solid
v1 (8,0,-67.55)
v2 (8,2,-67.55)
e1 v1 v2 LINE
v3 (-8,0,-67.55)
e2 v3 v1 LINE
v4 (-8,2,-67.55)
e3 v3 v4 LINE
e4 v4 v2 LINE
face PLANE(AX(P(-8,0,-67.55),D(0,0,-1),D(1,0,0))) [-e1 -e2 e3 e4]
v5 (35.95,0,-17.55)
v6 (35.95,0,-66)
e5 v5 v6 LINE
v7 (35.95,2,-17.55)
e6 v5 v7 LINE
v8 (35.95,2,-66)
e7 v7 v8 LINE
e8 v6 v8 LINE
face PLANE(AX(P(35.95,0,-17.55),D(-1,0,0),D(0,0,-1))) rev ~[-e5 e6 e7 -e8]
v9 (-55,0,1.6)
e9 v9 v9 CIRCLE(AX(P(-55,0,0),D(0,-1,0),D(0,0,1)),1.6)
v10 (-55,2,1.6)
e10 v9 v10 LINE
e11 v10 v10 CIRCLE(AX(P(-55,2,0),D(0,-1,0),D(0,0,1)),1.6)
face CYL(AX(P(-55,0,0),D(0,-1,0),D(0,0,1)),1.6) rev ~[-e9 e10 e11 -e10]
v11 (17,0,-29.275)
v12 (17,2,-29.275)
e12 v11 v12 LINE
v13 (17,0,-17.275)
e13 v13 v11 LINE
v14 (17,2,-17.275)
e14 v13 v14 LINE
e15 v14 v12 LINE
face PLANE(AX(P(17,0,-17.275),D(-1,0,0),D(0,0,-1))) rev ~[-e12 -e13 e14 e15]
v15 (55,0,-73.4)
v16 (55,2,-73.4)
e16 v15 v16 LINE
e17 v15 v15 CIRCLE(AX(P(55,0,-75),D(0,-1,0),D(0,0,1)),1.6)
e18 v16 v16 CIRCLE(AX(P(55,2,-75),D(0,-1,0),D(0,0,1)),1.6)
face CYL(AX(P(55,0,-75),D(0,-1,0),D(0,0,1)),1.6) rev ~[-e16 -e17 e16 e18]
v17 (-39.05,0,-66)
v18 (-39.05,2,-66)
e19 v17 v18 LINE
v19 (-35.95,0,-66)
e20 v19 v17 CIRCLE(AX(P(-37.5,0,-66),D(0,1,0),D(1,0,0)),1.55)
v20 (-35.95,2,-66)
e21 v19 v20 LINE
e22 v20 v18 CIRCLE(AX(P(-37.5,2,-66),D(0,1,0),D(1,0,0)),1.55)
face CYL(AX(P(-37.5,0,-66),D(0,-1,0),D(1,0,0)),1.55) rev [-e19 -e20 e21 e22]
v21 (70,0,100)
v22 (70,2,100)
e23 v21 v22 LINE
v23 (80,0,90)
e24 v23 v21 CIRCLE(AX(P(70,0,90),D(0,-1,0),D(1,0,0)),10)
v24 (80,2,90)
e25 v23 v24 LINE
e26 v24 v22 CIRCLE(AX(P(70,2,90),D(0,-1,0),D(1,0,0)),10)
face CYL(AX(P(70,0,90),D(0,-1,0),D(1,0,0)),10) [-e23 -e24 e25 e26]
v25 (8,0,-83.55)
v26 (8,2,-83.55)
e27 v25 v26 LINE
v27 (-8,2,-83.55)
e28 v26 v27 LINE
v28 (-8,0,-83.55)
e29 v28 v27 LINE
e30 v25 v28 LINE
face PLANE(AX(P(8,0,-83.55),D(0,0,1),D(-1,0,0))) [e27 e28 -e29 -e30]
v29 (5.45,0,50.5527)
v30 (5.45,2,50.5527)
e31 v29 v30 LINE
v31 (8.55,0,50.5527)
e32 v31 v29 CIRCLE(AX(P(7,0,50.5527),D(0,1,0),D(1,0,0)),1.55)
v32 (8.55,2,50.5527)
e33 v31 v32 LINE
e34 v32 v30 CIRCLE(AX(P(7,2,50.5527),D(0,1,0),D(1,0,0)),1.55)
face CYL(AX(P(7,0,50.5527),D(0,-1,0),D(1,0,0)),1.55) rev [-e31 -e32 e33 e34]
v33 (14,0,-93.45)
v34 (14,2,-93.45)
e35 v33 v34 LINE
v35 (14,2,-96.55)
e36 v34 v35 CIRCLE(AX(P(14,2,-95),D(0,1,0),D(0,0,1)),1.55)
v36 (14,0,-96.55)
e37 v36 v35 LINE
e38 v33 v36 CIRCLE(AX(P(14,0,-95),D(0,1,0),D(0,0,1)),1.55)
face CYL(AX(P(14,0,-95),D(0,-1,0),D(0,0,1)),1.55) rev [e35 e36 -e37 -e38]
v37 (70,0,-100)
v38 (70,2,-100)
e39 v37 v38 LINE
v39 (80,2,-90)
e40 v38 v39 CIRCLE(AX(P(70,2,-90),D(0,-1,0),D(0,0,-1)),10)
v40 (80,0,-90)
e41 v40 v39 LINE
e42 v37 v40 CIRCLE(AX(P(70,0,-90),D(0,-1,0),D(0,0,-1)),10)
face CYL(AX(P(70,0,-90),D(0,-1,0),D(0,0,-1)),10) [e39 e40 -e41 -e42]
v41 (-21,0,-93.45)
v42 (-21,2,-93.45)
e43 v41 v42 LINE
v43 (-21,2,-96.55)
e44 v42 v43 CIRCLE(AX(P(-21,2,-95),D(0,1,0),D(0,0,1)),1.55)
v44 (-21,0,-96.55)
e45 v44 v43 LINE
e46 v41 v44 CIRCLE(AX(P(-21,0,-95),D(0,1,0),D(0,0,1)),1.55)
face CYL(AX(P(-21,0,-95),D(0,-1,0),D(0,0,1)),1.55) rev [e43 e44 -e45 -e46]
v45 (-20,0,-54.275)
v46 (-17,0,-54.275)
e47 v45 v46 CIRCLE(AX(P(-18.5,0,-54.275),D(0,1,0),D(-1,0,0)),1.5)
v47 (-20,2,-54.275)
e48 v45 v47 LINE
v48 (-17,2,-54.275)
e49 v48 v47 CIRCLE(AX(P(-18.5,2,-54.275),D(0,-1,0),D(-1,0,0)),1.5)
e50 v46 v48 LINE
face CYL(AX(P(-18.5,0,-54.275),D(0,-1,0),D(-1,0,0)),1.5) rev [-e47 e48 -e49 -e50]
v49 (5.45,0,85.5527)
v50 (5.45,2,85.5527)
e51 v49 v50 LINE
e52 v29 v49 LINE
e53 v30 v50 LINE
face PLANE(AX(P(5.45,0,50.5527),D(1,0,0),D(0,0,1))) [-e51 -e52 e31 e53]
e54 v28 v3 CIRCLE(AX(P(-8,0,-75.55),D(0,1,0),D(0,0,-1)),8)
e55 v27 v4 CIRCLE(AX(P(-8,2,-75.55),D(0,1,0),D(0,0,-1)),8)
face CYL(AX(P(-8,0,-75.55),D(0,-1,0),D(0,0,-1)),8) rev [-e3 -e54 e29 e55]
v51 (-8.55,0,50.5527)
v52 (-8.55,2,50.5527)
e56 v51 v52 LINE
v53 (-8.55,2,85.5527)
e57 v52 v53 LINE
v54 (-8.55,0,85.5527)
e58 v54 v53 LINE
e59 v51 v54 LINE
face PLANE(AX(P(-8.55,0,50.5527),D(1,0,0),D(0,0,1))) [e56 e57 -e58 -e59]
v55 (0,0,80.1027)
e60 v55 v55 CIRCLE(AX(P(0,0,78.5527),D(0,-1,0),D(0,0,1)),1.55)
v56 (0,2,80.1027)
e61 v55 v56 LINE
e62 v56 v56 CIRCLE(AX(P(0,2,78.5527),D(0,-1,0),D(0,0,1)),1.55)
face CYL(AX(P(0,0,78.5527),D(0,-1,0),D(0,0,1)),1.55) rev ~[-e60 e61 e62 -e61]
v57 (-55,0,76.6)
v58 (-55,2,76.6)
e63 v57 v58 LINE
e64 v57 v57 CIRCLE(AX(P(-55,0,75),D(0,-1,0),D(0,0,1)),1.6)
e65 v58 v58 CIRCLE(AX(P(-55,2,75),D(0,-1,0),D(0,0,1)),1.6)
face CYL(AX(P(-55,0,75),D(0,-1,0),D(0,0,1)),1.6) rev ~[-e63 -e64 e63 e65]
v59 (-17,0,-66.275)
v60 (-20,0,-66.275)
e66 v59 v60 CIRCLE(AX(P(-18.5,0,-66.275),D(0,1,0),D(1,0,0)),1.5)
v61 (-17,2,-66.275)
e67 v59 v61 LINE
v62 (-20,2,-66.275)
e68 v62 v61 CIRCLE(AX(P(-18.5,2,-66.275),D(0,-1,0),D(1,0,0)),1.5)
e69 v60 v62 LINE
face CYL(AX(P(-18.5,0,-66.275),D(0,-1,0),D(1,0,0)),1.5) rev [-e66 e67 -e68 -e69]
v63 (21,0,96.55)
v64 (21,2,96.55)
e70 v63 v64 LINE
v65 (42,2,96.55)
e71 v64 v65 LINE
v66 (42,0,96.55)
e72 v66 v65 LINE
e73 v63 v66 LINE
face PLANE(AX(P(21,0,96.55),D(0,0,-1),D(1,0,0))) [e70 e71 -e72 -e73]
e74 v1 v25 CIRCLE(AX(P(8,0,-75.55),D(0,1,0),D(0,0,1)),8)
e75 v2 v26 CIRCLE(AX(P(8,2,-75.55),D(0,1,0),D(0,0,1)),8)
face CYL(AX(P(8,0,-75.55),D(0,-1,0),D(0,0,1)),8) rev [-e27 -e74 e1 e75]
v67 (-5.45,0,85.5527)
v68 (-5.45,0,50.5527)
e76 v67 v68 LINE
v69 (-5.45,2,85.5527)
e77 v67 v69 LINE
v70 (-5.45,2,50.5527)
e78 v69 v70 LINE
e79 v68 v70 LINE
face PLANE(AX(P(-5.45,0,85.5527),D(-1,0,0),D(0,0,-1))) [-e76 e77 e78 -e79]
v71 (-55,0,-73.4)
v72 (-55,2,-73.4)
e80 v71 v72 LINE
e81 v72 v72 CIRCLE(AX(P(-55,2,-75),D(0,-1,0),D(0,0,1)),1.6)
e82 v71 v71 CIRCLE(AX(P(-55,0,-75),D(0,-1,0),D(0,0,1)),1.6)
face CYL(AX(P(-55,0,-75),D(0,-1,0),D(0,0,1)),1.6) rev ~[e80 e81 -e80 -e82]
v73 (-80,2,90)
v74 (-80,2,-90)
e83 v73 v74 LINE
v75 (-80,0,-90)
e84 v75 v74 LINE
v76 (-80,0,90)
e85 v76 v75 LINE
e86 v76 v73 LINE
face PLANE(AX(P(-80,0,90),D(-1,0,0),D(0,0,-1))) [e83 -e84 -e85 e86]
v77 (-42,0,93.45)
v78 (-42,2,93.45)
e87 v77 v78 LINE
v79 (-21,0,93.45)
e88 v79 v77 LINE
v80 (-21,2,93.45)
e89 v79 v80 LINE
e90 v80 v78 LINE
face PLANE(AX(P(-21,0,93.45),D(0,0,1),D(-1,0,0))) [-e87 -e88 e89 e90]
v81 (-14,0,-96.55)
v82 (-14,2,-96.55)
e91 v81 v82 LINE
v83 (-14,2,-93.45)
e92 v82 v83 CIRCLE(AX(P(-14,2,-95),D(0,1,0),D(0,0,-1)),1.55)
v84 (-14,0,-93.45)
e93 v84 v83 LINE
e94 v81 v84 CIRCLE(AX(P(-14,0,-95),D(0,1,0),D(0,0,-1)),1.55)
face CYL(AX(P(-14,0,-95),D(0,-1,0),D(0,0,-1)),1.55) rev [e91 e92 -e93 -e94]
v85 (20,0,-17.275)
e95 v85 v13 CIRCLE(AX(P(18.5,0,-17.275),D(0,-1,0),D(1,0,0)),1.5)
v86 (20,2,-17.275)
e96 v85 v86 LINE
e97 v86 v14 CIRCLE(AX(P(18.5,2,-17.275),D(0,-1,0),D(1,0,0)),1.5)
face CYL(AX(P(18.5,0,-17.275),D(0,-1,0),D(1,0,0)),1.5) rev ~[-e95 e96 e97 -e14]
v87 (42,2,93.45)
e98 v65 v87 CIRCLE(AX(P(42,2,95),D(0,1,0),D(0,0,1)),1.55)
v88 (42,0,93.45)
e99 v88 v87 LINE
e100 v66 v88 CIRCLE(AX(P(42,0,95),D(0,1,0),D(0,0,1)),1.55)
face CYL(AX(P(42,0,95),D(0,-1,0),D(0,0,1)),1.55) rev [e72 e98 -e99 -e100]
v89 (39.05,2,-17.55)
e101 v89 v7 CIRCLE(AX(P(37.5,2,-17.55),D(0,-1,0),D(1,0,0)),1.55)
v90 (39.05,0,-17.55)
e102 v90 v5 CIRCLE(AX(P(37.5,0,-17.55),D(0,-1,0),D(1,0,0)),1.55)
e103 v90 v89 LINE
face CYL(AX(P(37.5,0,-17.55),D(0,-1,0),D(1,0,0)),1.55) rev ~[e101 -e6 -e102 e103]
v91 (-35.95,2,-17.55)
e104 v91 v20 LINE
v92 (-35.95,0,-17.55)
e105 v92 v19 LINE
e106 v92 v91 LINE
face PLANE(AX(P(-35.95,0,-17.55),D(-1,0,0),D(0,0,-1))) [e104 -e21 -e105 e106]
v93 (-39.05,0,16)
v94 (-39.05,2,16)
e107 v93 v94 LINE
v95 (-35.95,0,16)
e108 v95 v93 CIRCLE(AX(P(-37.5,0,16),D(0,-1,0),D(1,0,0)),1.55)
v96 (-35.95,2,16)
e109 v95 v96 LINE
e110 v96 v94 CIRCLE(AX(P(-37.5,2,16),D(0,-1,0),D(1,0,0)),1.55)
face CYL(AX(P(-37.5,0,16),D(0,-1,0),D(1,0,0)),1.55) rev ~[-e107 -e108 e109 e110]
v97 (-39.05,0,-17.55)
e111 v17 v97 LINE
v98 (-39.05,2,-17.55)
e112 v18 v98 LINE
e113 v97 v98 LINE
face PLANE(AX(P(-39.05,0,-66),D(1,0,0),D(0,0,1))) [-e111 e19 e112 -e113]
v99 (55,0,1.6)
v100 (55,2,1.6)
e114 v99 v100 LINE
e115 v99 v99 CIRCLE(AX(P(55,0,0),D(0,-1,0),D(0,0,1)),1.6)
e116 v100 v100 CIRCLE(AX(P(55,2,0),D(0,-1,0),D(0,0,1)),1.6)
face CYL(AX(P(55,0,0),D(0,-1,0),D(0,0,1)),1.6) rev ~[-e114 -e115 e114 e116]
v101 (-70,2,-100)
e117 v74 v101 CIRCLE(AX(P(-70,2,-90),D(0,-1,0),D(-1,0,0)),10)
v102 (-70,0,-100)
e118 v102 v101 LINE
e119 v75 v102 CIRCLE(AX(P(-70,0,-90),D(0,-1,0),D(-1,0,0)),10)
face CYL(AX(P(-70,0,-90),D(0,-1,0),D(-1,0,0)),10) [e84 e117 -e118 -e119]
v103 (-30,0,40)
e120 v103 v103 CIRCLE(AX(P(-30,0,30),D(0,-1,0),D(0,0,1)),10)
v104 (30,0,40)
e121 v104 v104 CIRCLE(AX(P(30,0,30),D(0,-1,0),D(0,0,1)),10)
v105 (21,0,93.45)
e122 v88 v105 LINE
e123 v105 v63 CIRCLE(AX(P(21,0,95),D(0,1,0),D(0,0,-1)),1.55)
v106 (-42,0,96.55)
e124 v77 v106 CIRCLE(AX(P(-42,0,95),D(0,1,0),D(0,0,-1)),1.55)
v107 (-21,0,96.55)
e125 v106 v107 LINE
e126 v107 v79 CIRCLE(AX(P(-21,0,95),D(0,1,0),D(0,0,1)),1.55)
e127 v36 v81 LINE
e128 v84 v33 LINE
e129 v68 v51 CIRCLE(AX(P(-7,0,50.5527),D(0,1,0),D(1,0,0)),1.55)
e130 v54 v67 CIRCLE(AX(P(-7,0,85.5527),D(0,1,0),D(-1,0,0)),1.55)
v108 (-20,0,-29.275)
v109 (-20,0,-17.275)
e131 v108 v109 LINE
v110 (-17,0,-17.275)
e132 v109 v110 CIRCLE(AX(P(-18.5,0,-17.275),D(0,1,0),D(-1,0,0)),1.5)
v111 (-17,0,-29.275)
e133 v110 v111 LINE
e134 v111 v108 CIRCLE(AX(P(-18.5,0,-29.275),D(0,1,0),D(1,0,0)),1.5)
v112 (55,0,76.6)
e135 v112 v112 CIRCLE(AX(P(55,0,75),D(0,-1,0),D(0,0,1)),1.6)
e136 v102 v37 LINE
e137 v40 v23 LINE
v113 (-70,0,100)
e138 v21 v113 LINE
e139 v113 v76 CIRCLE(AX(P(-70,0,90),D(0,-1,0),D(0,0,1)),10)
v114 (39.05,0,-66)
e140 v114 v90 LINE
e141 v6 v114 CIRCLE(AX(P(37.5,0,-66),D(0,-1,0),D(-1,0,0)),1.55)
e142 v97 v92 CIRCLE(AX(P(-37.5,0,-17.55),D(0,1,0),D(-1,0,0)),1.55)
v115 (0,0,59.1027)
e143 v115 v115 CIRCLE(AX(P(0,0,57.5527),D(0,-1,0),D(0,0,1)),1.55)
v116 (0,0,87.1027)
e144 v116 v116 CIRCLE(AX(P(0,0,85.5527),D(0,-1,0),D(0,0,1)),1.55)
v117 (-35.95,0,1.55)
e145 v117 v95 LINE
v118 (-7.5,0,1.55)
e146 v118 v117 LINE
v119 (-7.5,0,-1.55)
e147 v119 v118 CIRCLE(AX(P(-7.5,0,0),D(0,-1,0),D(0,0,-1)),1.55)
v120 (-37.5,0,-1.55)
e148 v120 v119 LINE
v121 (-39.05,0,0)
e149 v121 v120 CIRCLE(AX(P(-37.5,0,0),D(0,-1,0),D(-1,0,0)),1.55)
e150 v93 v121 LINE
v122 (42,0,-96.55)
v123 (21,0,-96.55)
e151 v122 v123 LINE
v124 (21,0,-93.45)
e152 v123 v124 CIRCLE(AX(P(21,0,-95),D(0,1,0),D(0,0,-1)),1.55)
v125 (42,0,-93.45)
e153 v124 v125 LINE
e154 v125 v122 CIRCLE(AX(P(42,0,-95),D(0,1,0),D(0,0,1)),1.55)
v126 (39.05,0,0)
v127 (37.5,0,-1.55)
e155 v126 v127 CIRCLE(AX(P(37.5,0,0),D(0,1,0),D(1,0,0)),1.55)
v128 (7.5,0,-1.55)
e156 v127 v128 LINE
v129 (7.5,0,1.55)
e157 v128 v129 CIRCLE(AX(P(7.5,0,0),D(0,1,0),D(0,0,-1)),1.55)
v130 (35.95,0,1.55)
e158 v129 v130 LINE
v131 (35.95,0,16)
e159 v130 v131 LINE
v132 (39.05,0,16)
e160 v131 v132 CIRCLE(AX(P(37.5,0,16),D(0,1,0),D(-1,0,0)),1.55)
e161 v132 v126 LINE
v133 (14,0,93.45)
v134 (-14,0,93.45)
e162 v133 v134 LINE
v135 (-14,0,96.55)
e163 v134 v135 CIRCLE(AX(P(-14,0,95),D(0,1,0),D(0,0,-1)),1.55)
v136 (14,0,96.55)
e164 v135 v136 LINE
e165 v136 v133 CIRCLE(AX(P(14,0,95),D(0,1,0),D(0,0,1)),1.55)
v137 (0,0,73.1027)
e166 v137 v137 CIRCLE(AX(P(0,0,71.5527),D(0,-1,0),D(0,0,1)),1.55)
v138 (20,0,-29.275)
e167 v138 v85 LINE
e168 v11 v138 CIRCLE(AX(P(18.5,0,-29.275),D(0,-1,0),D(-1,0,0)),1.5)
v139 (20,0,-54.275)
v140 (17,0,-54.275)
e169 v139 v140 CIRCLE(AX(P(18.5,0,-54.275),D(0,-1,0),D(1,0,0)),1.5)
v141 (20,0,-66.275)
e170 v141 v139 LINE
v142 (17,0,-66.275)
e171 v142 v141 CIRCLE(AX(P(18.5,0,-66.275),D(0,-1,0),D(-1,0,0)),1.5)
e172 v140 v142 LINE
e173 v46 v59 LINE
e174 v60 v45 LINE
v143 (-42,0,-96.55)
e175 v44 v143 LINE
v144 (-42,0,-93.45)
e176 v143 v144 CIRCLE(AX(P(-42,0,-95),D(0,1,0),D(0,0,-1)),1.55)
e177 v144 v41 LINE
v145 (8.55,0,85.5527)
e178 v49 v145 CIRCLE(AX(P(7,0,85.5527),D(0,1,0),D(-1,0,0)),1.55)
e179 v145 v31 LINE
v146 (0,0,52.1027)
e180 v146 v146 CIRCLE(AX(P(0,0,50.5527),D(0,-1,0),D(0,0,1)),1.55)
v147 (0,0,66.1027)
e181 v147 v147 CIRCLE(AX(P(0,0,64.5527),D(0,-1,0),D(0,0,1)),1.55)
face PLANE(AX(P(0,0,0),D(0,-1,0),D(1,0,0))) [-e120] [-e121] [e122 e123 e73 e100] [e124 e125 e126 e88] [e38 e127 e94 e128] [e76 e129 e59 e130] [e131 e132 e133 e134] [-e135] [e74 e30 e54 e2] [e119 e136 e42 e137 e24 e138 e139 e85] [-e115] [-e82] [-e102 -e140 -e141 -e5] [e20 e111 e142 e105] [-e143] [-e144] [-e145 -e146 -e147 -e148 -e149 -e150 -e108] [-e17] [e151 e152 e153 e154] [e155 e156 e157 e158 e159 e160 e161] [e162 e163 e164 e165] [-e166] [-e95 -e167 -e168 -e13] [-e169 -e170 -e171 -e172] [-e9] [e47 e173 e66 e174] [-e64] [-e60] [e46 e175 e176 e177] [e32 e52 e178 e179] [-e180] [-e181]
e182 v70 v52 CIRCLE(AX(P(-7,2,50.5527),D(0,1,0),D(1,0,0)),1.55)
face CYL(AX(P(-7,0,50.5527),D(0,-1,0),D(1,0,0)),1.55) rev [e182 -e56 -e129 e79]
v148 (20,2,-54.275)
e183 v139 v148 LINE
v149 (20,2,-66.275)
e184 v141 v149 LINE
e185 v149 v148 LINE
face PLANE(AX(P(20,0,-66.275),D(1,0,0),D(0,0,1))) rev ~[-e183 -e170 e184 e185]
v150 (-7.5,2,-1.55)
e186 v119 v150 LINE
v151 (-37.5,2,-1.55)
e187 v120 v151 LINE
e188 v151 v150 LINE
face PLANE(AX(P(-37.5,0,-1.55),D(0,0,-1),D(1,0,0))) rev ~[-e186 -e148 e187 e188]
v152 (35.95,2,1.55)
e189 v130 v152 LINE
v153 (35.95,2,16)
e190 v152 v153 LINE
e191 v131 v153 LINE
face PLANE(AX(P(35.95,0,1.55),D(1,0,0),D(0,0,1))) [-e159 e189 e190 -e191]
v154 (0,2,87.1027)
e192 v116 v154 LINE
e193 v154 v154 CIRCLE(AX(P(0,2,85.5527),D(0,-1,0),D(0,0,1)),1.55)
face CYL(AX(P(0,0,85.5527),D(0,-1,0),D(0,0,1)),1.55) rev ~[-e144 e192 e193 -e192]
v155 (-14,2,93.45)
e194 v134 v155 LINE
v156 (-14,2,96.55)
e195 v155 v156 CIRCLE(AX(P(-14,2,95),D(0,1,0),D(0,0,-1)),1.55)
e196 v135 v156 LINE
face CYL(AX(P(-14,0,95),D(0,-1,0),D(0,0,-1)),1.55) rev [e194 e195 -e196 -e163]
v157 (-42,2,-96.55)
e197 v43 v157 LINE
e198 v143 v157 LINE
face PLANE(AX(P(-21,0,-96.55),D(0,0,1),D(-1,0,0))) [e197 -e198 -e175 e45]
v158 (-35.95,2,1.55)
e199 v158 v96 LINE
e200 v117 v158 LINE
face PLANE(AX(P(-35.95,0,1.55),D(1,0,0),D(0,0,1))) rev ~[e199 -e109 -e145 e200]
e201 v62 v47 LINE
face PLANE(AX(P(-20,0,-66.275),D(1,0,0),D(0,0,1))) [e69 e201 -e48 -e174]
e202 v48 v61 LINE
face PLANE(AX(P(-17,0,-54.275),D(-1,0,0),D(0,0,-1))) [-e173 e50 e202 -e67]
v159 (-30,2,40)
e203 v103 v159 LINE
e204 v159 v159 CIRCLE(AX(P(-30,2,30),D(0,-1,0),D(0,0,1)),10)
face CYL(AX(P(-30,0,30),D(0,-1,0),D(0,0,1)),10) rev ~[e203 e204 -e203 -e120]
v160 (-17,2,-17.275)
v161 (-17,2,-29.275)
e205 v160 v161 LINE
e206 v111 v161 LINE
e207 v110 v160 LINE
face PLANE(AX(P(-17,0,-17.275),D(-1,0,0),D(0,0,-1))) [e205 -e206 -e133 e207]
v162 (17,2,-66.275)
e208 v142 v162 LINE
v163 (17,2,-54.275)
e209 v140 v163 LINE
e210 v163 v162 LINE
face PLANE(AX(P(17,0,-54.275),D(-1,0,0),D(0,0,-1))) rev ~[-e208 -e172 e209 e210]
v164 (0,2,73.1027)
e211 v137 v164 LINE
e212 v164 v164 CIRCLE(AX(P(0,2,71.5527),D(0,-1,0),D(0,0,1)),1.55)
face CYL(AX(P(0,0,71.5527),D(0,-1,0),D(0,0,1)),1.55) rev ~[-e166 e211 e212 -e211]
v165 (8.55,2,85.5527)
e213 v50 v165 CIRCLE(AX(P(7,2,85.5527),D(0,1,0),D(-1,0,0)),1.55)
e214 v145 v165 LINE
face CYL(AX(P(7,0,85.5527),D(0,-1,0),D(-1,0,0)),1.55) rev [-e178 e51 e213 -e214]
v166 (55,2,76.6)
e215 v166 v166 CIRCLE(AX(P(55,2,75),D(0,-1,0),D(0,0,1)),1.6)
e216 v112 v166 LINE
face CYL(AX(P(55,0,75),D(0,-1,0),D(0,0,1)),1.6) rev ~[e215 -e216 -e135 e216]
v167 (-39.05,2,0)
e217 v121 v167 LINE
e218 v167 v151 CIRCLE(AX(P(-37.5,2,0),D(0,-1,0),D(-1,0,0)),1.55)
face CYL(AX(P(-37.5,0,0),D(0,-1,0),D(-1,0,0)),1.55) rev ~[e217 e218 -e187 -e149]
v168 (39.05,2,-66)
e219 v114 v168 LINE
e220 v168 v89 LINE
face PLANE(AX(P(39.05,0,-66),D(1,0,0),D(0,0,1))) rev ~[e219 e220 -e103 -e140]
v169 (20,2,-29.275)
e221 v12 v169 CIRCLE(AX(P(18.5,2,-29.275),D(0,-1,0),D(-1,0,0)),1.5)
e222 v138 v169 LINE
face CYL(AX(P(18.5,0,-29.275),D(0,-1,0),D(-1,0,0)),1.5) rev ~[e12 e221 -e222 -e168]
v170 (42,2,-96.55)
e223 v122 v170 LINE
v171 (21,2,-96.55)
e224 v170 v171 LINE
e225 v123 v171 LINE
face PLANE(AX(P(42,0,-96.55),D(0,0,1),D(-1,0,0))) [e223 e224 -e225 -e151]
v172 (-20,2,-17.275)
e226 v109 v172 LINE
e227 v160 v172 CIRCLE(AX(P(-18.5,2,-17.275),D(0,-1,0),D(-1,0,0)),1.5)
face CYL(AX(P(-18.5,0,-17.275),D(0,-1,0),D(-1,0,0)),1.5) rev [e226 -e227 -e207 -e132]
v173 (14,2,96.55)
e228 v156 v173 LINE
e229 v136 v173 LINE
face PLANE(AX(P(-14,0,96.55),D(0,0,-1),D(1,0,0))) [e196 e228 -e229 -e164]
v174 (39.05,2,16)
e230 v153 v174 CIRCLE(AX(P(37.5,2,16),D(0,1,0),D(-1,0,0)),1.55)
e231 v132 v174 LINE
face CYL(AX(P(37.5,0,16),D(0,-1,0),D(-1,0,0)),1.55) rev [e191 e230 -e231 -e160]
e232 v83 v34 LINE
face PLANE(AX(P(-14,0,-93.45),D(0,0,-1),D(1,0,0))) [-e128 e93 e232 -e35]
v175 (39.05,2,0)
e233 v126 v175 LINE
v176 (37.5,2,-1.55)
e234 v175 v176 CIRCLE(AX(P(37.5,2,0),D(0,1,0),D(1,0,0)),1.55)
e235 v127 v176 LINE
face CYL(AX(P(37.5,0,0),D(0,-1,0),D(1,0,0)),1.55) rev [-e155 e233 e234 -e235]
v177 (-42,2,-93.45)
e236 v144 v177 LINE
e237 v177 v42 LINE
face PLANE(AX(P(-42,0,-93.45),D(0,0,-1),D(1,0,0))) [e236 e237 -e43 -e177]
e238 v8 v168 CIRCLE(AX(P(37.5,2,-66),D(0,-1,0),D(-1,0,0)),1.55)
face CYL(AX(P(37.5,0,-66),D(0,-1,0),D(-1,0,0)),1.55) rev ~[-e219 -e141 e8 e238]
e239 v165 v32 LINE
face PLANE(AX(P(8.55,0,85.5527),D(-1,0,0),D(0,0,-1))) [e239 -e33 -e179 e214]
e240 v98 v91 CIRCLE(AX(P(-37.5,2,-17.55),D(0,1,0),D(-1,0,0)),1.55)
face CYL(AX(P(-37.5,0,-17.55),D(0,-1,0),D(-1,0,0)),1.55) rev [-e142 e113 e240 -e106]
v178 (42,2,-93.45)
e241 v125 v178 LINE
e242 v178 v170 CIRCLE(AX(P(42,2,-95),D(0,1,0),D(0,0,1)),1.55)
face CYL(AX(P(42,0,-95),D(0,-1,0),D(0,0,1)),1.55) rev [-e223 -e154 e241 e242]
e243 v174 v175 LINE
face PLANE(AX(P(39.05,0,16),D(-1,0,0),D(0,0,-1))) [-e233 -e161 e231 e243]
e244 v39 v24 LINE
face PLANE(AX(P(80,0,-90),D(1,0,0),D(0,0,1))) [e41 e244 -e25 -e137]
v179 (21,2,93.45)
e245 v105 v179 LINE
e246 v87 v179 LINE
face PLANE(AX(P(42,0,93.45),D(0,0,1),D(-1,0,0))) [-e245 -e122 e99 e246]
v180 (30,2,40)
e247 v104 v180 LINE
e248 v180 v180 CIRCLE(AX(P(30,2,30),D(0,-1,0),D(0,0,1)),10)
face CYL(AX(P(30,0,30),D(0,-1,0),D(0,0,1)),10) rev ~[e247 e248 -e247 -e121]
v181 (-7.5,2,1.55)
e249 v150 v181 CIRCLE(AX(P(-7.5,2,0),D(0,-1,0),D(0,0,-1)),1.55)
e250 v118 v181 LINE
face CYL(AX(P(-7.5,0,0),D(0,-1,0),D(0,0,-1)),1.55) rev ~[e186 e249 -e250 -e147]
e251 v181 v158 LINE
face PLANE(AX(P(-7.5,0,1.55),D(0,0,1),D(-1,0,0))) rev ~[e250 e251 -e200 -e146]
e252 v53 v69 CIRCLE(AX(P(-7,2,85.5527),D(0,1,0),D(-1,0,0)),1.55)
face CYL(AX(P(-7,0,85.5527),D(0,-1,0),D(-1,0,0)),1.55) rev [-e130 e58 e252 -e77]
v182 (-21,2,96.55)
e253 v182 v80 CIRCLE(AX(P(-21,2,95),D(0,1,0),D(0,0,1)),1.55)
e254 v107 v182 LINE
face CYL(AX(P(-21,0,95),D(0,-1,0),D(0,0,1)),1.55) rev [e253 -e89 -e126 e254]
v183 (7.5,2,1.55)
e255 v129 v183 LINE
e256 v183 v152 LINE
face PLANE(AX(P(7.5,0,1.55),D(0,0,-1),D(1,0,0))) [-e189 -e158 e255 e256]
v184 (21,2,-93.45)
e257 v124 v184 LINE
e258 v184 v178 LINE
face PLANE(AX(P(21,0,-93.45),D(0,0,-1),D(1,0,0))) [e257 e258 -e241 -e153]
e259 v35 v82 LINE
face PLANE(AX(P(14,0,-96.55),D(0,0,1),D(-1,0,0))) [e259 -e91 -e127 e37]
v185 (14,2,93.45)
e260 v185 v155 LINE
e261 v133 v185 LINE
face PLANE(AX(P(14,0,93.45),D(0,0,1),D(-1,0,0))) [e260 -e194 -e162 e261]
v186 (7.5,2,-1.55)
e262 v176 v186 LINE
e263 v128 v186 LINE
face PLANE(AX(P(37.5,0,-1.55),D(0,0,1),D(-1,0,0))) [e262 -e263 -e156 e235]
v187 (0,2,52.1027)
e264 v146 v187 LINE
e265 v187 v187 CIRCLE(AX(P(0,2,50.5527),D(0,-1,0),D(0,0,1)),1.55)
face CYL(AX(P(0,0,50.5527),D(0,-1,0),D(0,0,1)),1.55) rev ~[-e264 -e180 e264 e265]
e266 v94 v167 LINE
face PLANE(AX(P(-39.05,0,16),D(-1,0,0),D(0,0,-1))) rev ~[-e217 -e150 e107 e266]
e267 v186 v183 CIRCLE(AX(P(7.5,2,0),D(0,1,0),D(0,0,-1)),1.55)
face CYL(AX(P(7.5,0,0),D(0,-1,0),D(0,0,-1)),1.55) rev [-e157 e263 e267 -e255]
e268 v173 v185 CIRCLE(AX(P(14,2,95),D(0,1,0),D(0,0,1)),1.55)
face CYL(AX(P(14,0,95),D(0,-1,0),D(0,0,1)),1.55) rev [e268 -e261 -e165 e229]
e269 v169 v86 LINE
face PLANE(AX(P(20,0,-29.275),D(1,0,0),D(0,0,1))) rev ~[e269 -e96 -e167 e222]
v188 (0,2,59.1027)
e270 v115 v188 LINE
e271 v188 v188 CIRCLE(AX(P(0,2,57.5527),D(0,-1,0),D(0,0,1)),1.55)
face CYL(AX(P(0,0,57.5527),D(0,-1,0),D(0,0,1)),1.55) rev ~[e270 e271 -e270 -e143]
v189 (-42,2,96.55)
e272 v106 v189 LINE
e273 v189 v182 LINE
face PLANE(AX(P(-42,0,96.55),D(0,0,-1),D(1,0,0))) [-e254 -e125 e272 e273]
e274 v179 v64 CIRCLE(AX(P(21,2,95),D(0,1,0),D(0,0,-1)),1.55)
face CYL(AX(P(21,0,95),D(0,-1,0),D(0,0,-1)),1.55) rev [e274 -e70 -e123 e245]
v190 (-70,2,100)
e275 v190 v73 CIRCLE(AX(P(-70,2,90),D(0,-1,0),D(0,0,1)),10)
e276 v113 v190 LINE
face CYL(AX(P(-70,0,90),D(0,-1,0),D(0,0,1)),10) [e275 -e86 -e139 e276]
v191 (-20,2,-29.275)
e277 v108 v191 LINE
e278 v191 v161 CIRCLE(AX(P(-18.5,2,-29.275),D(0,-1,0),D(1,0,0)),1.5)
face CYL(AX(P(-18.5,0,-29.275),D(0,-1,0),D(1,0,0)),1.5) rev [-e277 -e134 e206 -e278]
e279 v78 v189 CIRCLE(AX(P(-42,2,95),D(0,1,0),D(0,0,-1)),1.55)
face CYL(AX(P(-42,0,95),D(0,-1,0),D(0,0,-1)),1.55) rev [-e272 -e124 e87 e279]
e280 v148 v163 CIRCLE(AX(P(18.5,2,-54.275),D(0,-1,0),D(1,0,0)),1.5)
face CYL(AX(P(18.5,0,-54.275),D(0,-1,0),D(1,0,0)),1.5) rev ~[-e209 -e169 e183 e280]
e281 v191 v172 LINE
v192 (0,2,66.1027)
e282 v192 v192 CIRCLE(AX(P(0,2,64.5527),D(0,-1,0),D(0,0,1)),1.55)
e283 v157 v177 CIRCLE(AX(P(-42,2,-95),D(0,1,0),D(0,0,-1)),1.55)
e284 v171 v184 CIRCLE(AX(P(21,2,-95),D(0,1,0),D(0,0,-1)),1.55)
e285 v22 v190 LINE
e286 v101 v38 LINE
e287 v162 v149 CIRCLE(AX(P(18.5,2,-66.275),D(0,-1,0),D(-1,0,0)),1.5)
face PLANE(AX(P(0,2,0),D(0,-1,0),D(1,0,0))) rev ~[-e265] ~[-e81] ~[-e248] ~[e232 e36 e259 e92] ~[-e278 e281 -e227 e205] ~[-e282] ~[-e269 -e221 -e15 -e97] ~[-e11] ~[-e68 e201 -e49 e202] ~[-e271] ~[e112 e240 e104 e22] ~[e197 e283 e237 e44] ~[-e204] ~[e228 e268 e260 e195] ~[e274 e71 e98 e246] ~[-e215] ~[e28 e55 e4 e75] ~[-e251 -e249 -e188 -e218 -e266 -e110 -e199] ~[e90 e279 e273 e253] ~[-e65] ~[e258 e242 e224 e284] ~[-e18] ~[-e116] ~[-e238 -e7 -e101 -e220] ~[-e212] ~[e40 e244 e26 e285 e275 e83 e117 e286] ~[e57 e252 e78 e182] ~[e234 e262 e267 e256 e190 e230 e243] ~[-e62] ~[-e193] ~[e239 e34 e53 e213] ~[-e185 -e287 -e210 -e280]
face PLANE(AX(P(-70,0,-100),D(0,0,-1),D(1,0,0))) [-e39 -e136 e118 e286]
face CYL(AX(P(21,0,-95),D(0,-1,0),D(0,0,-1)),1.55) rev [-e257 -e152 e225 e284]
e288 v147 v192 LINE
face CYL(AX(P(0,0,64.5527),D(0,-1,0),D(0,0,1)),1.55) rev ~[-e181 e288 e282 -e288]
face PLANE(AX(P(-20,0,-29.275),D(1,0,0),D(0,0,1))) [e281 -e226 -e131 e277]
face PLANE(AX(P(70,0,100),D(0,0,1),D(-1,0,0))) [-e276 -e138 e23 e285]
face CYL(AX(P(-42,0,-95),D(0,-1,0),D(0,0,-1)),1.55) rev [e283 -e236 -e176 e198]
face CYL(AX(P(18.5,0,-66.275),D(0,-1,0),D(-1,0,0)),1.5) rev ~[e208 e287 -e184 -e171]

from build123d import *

# Parameters (mm, degrees)
SKETCH_1_R          = 1.55
SKETCH_1_R_2        = 10
SKETCH_1_R_3        = 1.6
EXTRUDE_1_DEPTH     = 2
CUT_EXTRUDE_1_DEPTH = 10


with BuildPart() as part:
    # 草图1 → 凸台-拉伸1 (new body)
    with BuildSketch(Plane.XZ):
        with BuildLine():
            Line((-70, -100), (70, -100))
            ThreePointArc((70, -100), (77.071067812, -97.071067812), (80, -90))
            Line((80, -90), (80, 90))
            ThreePointArc((80, 90), (77.071067812, 97.071067812), (70, 100))
            Line((70, 100), (-70, 100))
            ThreePointArc((-70, 100), (-77.071067812, 97.071067812), (-80, 90))
            Line((-80, 90), (-80, -90))
            ThreePointArc((-80, -90), (-77.071067812, -97.071067812), (-70, -100))
        make_face()
        with Locations(Location((0, 50.5527, 0), (0, 0, 90))):
            Circle(SKETCH_1_R, mode=Mode.SUBTRACT)
        with Locations(Location((0, 57.5527, 0), (0, 0, 90))):
            Circle(SKETCH_1_R, mode=Mode.SUBTRACT)
        with Locations(Location((0, 64.5527, 0), (0, 0, 90))):
            Circle(SKETCH_1_R, mode=Mode.SUBTRACT)
        with Locations(Location((0, 71.5527, 0), (0, 0, 90))):
            Circle(SKETCH_1_R, mode=Mode.SUBTRACT)
        with Locations(Location((0, 78.5527, 0), (0, 0, 90))):
            Circle(SKETCH_1_R, mode=Mode.SUBTRACT)
        with Locations(Location((0, 85.5527, 0), (0, 0, 90))):
            Circle(SKETCH_1_R, mode=Mode.SUBTRACT)
        with Locations(Location((-30, 30, 0), (0, 0, 90))):
            Circle(SKETCH_1_R_2, mode=Mode.SUBTRACT)
        with Locations(Location((30, 30, 0), (0, 0, 90))):
            Circle(SKETCH_1_R_2, mode=Mode.SUBTRACT)
        with Locations(Location((55, 75, 0), (0, 0, 90))):
            Circle(SKETCH_1_R_3, mode=Mode.SUBTRACT)
        with Locations(Location((55, 0, 0), (0, 0, 90))):
            Circle(SKETCH_1_R_3, mode=Mode.SUBTRACT)
        with Locations(Location((55, -75, 0), (0, 0, 90))):
            Circle(SKETCH_1_R_3, mode=Mode.SUBTRACT)
        with Locations(Location((-55, -75, 0), (0, 0, 90))):
            Circle(SKETCH_1_R_3, mode=Mode.SUBTRACT)
        with Locations(Location((-55, 0, 0), (0, 0, 90))):
            Circle(SKETCH_1_R_3, mode=Mode.SUBTRACT)
        with Locations(Location((-55, 75, 0), (0, 0, 90))):
            Circle(SKETCH_1_R_3, mode=Mode.SUBTRACT)
        with BuildLine():
            Line((37.5, -1.55), (7.5, -1.55))
            ThreePointArc((7.5, -1.55), (5.95, 0), (7.5, 1.55))
            Line((7.5, 1.55), (35.95, 1.55))
            Line((35.95, 1.55), (35.95, 16))
            ThreePointArc((35.95, 16), (37.5, 17.55), (39.05, 16))
            Line((39.05, 16), (39.05, 0))
            ThreePointArc((39.05, 0), (38.596015511, -1.096015511), (37.5, -1.55))
        make_face(mode=Mode.SUBTRACT)
        with BuildLine():
            Line((-35.95, 1.55), (-35.95, 16))
            ThreePointArc((-35.95, 16), (-37.5, 17.55), (-39.05, 16))
            Line((-39.05, 16), (-39.05, 0))
            ThreePointArc((-39.05, 0), (-38.596015511, -1.096015511), (-37.5, -1.55))
            Line((-37.5, -1.55), (-7.5, -1.55))
            ThreePointArc((-7.5, -1.55), (-5.95, 0), (-7.5, 1.55))
            Line((-7.5, 1.55), (-35.95, 1.55))
        make_face(mode=Mode.SUBTRACT)
        with BuildLine():
            Line((39.05, -66), (39.05, -17.55))
            ThreePointArc((39.05, -17.55), (37.5, -16), (35.95, -17.55))
            Line((35.95, -17.55), (35.95, -66))
            ThreePointArc((35.95, -66), (37.5, -67.55), (39.05, -66))
        make_face(mode=Mode.SUBTRACT)
        with BuildLine():
            Line((-35.95, -17.55), (-35.95, -66))
            ThreePointArc((-35.95, -66), (-37.5, -67.55), (-39.05, -66))
            Line((-39.05, -66), (-39.05, -17.55))
            ThreePointArc((-39.05, -17.55), (-37.5, -16), (-35.95, -17.55))
        make_face(mode=Mode.SUBTRACT)
        with BuildLine():
            Line((8, -83.55), (-8, -83.55))
            ThreePointArc((-8, -83.55), (-16, -75.55), (-8, -67.55))
            Line((-8, -67.55), (8, -67.55))
            ThreePointArc((8, -67.55), (16, -75.55), (8, -83.55))
        make_face(mode=Mode.SUBTRACT)
        with BuildLine():
            Line((8.55, 85.5527), (8.55, 50.5527))
            ThreePointArc((8.55, 50.5527), (7, 49.0027), (5.45, 50.5527))
            Line((5.45, 50.5527), (5.45, 85.5527))
            ThreePointArc((5.45, 85.5527), (7, 87.1027), (8.55, 85.5527))
        make_face(mode=Mode.SUBTRACT)
        with BuildLine():
            Line((-8.55, 50.5527), (-8.55, 85.5527))
            ThreePointArc((-8.55, 85.5527), (-7, 87.1027), (-5.45, 85.5527))
            Line((-5.45, 85.5527), (-5.45, 50.5527))
            ThreePointArc((-5.45, 50.5527), (-7, 49.0027), (-8.55, 50.5527))
        make_face(mode=Mode.SUBTRACT)
        with BuildLine():
            Line((42, 93.45), (21, 93.45))
            ThreePointArc((21, 93.45), (19.45, 95), (21, 96.55))
            Line((21, 96.55), (42, 96.55))
            ThreePointArc((42, 96.55), (43.55, 95), (42, 93.45))
        make_face(mode=Mode.SUBTRACT)
        with BuildLine():
            Line((-21, 93.45), (-42, 93.45))
            ThreePointArc((-42, 93.45), (-43.55, 95), (-42, 96.55))
            Line((-42, 96.55), (-21, 96.55))
            ThreePointArc((-21, 96.55), (-19.45, 95), (-21, 93.45))
        make_face(mode=Mode.SUBTRACT)
        with BuildLine():
            Line((14, 93.45), (-14, 93.45))
            ThreePointArc((-14, 93.45), (-15.55, 95), (-14, 96.55))
            Line((-14, 96.55), (14, 96.55))
            ThreePointArc((14, 96.55), (15.55, 95), (14, 93.45))
        make_face(mode=Mode.SUBTRACT)
        with BuildLine():
            Line((21, -93.45), (42, -93.45))
            ThreePointArc((42, -93.45), (43.55, -95), (42, -96.55))
            Line((42, -96.55), (21, -96.55))
            ThreePointArc((21, -96.55), (19.45, -95), (21, -93.45))
        make_face(mode=Mode.SUBTRACT)
        with BuildLine():
            Line((-42, -93.45), (-21, -93.45))
            ThreePointArc((-21, -93.45), (-19.45, -95), (-21, -96.55))
            Line((-21, -96.55), (-42, -96.55))
            ThreePointArc((-42, -96.55), (-43.55, -95), (-42, -93.45))
        make_face(mode=Mode.SUBTRACT)
        with BuildLine():
            Line((-14, -93.45), (14, -93.45))
            ThreePointArc((14, -93.45), (15.55, -95), (14, -96.55))
            Line((14, -96.55), (-14, -96.55))
            ThreePointArc((-14, -96.55), (-15.55, -95), (-14, -93.45))
        make_face(mode=Mode.SUBTRACT)
    extrude(amount=-EXTRUDE_1_DEPTH)

    # 草图2 → 切除-拉伸1 (cut)
    with BuildSketch(Plane.XZ):
        with BuildLine():
            Line((-17, -17.275), (-17, -29.275))
            ThreePointArc((-17, -29.275), (-18.5, -30.775), (-20, -29.275))
            Line((-20, -29.275), (-20, -17.275))
            ThreePointArc((-20, -17.275), (-18.5, -15.775), (-17, -17.275))
        make_face()
        with BuildLine():
            Line((-17, -54.275), (-17, -66.275))
            ThreePointArc((-17, -66.275), (-18.5, -67.775), (-20, -66.275))
            Line((-20, -66.275), (-20, -54.275))
            ThreePointArc((-20, -54.275), (-18.5, -52.775), (-17, -54.275))
        make_face()
        with BuildLine():
            Line((17, -54.275), (17, -66.275))
            ThreePointArc((17, -66.275), (18.5, -67.775), (20, -66.275))
            Line((20, -66.275), (20, -54.275))
            ThreePointArc((20, -54.275), (18.5, -52.775), (17, -54.275))
        make_face()
        with BuildLine():
            Line((17, -17.275), (17, -29.275))
            ThreePointArc((17, -29.275), (18.5, -30.775), (20, -29.275))
            Line((20, -29.275), (20, -17.275))
            ThreePointArc((20, -17.275), (18.5, -15.775), (17, -17.275))
        make_face()
    extrude(amount=-CUT_EXTRUDE_1_DEPTH, mode=Mode.SUBTRACT)


solid = part.part
